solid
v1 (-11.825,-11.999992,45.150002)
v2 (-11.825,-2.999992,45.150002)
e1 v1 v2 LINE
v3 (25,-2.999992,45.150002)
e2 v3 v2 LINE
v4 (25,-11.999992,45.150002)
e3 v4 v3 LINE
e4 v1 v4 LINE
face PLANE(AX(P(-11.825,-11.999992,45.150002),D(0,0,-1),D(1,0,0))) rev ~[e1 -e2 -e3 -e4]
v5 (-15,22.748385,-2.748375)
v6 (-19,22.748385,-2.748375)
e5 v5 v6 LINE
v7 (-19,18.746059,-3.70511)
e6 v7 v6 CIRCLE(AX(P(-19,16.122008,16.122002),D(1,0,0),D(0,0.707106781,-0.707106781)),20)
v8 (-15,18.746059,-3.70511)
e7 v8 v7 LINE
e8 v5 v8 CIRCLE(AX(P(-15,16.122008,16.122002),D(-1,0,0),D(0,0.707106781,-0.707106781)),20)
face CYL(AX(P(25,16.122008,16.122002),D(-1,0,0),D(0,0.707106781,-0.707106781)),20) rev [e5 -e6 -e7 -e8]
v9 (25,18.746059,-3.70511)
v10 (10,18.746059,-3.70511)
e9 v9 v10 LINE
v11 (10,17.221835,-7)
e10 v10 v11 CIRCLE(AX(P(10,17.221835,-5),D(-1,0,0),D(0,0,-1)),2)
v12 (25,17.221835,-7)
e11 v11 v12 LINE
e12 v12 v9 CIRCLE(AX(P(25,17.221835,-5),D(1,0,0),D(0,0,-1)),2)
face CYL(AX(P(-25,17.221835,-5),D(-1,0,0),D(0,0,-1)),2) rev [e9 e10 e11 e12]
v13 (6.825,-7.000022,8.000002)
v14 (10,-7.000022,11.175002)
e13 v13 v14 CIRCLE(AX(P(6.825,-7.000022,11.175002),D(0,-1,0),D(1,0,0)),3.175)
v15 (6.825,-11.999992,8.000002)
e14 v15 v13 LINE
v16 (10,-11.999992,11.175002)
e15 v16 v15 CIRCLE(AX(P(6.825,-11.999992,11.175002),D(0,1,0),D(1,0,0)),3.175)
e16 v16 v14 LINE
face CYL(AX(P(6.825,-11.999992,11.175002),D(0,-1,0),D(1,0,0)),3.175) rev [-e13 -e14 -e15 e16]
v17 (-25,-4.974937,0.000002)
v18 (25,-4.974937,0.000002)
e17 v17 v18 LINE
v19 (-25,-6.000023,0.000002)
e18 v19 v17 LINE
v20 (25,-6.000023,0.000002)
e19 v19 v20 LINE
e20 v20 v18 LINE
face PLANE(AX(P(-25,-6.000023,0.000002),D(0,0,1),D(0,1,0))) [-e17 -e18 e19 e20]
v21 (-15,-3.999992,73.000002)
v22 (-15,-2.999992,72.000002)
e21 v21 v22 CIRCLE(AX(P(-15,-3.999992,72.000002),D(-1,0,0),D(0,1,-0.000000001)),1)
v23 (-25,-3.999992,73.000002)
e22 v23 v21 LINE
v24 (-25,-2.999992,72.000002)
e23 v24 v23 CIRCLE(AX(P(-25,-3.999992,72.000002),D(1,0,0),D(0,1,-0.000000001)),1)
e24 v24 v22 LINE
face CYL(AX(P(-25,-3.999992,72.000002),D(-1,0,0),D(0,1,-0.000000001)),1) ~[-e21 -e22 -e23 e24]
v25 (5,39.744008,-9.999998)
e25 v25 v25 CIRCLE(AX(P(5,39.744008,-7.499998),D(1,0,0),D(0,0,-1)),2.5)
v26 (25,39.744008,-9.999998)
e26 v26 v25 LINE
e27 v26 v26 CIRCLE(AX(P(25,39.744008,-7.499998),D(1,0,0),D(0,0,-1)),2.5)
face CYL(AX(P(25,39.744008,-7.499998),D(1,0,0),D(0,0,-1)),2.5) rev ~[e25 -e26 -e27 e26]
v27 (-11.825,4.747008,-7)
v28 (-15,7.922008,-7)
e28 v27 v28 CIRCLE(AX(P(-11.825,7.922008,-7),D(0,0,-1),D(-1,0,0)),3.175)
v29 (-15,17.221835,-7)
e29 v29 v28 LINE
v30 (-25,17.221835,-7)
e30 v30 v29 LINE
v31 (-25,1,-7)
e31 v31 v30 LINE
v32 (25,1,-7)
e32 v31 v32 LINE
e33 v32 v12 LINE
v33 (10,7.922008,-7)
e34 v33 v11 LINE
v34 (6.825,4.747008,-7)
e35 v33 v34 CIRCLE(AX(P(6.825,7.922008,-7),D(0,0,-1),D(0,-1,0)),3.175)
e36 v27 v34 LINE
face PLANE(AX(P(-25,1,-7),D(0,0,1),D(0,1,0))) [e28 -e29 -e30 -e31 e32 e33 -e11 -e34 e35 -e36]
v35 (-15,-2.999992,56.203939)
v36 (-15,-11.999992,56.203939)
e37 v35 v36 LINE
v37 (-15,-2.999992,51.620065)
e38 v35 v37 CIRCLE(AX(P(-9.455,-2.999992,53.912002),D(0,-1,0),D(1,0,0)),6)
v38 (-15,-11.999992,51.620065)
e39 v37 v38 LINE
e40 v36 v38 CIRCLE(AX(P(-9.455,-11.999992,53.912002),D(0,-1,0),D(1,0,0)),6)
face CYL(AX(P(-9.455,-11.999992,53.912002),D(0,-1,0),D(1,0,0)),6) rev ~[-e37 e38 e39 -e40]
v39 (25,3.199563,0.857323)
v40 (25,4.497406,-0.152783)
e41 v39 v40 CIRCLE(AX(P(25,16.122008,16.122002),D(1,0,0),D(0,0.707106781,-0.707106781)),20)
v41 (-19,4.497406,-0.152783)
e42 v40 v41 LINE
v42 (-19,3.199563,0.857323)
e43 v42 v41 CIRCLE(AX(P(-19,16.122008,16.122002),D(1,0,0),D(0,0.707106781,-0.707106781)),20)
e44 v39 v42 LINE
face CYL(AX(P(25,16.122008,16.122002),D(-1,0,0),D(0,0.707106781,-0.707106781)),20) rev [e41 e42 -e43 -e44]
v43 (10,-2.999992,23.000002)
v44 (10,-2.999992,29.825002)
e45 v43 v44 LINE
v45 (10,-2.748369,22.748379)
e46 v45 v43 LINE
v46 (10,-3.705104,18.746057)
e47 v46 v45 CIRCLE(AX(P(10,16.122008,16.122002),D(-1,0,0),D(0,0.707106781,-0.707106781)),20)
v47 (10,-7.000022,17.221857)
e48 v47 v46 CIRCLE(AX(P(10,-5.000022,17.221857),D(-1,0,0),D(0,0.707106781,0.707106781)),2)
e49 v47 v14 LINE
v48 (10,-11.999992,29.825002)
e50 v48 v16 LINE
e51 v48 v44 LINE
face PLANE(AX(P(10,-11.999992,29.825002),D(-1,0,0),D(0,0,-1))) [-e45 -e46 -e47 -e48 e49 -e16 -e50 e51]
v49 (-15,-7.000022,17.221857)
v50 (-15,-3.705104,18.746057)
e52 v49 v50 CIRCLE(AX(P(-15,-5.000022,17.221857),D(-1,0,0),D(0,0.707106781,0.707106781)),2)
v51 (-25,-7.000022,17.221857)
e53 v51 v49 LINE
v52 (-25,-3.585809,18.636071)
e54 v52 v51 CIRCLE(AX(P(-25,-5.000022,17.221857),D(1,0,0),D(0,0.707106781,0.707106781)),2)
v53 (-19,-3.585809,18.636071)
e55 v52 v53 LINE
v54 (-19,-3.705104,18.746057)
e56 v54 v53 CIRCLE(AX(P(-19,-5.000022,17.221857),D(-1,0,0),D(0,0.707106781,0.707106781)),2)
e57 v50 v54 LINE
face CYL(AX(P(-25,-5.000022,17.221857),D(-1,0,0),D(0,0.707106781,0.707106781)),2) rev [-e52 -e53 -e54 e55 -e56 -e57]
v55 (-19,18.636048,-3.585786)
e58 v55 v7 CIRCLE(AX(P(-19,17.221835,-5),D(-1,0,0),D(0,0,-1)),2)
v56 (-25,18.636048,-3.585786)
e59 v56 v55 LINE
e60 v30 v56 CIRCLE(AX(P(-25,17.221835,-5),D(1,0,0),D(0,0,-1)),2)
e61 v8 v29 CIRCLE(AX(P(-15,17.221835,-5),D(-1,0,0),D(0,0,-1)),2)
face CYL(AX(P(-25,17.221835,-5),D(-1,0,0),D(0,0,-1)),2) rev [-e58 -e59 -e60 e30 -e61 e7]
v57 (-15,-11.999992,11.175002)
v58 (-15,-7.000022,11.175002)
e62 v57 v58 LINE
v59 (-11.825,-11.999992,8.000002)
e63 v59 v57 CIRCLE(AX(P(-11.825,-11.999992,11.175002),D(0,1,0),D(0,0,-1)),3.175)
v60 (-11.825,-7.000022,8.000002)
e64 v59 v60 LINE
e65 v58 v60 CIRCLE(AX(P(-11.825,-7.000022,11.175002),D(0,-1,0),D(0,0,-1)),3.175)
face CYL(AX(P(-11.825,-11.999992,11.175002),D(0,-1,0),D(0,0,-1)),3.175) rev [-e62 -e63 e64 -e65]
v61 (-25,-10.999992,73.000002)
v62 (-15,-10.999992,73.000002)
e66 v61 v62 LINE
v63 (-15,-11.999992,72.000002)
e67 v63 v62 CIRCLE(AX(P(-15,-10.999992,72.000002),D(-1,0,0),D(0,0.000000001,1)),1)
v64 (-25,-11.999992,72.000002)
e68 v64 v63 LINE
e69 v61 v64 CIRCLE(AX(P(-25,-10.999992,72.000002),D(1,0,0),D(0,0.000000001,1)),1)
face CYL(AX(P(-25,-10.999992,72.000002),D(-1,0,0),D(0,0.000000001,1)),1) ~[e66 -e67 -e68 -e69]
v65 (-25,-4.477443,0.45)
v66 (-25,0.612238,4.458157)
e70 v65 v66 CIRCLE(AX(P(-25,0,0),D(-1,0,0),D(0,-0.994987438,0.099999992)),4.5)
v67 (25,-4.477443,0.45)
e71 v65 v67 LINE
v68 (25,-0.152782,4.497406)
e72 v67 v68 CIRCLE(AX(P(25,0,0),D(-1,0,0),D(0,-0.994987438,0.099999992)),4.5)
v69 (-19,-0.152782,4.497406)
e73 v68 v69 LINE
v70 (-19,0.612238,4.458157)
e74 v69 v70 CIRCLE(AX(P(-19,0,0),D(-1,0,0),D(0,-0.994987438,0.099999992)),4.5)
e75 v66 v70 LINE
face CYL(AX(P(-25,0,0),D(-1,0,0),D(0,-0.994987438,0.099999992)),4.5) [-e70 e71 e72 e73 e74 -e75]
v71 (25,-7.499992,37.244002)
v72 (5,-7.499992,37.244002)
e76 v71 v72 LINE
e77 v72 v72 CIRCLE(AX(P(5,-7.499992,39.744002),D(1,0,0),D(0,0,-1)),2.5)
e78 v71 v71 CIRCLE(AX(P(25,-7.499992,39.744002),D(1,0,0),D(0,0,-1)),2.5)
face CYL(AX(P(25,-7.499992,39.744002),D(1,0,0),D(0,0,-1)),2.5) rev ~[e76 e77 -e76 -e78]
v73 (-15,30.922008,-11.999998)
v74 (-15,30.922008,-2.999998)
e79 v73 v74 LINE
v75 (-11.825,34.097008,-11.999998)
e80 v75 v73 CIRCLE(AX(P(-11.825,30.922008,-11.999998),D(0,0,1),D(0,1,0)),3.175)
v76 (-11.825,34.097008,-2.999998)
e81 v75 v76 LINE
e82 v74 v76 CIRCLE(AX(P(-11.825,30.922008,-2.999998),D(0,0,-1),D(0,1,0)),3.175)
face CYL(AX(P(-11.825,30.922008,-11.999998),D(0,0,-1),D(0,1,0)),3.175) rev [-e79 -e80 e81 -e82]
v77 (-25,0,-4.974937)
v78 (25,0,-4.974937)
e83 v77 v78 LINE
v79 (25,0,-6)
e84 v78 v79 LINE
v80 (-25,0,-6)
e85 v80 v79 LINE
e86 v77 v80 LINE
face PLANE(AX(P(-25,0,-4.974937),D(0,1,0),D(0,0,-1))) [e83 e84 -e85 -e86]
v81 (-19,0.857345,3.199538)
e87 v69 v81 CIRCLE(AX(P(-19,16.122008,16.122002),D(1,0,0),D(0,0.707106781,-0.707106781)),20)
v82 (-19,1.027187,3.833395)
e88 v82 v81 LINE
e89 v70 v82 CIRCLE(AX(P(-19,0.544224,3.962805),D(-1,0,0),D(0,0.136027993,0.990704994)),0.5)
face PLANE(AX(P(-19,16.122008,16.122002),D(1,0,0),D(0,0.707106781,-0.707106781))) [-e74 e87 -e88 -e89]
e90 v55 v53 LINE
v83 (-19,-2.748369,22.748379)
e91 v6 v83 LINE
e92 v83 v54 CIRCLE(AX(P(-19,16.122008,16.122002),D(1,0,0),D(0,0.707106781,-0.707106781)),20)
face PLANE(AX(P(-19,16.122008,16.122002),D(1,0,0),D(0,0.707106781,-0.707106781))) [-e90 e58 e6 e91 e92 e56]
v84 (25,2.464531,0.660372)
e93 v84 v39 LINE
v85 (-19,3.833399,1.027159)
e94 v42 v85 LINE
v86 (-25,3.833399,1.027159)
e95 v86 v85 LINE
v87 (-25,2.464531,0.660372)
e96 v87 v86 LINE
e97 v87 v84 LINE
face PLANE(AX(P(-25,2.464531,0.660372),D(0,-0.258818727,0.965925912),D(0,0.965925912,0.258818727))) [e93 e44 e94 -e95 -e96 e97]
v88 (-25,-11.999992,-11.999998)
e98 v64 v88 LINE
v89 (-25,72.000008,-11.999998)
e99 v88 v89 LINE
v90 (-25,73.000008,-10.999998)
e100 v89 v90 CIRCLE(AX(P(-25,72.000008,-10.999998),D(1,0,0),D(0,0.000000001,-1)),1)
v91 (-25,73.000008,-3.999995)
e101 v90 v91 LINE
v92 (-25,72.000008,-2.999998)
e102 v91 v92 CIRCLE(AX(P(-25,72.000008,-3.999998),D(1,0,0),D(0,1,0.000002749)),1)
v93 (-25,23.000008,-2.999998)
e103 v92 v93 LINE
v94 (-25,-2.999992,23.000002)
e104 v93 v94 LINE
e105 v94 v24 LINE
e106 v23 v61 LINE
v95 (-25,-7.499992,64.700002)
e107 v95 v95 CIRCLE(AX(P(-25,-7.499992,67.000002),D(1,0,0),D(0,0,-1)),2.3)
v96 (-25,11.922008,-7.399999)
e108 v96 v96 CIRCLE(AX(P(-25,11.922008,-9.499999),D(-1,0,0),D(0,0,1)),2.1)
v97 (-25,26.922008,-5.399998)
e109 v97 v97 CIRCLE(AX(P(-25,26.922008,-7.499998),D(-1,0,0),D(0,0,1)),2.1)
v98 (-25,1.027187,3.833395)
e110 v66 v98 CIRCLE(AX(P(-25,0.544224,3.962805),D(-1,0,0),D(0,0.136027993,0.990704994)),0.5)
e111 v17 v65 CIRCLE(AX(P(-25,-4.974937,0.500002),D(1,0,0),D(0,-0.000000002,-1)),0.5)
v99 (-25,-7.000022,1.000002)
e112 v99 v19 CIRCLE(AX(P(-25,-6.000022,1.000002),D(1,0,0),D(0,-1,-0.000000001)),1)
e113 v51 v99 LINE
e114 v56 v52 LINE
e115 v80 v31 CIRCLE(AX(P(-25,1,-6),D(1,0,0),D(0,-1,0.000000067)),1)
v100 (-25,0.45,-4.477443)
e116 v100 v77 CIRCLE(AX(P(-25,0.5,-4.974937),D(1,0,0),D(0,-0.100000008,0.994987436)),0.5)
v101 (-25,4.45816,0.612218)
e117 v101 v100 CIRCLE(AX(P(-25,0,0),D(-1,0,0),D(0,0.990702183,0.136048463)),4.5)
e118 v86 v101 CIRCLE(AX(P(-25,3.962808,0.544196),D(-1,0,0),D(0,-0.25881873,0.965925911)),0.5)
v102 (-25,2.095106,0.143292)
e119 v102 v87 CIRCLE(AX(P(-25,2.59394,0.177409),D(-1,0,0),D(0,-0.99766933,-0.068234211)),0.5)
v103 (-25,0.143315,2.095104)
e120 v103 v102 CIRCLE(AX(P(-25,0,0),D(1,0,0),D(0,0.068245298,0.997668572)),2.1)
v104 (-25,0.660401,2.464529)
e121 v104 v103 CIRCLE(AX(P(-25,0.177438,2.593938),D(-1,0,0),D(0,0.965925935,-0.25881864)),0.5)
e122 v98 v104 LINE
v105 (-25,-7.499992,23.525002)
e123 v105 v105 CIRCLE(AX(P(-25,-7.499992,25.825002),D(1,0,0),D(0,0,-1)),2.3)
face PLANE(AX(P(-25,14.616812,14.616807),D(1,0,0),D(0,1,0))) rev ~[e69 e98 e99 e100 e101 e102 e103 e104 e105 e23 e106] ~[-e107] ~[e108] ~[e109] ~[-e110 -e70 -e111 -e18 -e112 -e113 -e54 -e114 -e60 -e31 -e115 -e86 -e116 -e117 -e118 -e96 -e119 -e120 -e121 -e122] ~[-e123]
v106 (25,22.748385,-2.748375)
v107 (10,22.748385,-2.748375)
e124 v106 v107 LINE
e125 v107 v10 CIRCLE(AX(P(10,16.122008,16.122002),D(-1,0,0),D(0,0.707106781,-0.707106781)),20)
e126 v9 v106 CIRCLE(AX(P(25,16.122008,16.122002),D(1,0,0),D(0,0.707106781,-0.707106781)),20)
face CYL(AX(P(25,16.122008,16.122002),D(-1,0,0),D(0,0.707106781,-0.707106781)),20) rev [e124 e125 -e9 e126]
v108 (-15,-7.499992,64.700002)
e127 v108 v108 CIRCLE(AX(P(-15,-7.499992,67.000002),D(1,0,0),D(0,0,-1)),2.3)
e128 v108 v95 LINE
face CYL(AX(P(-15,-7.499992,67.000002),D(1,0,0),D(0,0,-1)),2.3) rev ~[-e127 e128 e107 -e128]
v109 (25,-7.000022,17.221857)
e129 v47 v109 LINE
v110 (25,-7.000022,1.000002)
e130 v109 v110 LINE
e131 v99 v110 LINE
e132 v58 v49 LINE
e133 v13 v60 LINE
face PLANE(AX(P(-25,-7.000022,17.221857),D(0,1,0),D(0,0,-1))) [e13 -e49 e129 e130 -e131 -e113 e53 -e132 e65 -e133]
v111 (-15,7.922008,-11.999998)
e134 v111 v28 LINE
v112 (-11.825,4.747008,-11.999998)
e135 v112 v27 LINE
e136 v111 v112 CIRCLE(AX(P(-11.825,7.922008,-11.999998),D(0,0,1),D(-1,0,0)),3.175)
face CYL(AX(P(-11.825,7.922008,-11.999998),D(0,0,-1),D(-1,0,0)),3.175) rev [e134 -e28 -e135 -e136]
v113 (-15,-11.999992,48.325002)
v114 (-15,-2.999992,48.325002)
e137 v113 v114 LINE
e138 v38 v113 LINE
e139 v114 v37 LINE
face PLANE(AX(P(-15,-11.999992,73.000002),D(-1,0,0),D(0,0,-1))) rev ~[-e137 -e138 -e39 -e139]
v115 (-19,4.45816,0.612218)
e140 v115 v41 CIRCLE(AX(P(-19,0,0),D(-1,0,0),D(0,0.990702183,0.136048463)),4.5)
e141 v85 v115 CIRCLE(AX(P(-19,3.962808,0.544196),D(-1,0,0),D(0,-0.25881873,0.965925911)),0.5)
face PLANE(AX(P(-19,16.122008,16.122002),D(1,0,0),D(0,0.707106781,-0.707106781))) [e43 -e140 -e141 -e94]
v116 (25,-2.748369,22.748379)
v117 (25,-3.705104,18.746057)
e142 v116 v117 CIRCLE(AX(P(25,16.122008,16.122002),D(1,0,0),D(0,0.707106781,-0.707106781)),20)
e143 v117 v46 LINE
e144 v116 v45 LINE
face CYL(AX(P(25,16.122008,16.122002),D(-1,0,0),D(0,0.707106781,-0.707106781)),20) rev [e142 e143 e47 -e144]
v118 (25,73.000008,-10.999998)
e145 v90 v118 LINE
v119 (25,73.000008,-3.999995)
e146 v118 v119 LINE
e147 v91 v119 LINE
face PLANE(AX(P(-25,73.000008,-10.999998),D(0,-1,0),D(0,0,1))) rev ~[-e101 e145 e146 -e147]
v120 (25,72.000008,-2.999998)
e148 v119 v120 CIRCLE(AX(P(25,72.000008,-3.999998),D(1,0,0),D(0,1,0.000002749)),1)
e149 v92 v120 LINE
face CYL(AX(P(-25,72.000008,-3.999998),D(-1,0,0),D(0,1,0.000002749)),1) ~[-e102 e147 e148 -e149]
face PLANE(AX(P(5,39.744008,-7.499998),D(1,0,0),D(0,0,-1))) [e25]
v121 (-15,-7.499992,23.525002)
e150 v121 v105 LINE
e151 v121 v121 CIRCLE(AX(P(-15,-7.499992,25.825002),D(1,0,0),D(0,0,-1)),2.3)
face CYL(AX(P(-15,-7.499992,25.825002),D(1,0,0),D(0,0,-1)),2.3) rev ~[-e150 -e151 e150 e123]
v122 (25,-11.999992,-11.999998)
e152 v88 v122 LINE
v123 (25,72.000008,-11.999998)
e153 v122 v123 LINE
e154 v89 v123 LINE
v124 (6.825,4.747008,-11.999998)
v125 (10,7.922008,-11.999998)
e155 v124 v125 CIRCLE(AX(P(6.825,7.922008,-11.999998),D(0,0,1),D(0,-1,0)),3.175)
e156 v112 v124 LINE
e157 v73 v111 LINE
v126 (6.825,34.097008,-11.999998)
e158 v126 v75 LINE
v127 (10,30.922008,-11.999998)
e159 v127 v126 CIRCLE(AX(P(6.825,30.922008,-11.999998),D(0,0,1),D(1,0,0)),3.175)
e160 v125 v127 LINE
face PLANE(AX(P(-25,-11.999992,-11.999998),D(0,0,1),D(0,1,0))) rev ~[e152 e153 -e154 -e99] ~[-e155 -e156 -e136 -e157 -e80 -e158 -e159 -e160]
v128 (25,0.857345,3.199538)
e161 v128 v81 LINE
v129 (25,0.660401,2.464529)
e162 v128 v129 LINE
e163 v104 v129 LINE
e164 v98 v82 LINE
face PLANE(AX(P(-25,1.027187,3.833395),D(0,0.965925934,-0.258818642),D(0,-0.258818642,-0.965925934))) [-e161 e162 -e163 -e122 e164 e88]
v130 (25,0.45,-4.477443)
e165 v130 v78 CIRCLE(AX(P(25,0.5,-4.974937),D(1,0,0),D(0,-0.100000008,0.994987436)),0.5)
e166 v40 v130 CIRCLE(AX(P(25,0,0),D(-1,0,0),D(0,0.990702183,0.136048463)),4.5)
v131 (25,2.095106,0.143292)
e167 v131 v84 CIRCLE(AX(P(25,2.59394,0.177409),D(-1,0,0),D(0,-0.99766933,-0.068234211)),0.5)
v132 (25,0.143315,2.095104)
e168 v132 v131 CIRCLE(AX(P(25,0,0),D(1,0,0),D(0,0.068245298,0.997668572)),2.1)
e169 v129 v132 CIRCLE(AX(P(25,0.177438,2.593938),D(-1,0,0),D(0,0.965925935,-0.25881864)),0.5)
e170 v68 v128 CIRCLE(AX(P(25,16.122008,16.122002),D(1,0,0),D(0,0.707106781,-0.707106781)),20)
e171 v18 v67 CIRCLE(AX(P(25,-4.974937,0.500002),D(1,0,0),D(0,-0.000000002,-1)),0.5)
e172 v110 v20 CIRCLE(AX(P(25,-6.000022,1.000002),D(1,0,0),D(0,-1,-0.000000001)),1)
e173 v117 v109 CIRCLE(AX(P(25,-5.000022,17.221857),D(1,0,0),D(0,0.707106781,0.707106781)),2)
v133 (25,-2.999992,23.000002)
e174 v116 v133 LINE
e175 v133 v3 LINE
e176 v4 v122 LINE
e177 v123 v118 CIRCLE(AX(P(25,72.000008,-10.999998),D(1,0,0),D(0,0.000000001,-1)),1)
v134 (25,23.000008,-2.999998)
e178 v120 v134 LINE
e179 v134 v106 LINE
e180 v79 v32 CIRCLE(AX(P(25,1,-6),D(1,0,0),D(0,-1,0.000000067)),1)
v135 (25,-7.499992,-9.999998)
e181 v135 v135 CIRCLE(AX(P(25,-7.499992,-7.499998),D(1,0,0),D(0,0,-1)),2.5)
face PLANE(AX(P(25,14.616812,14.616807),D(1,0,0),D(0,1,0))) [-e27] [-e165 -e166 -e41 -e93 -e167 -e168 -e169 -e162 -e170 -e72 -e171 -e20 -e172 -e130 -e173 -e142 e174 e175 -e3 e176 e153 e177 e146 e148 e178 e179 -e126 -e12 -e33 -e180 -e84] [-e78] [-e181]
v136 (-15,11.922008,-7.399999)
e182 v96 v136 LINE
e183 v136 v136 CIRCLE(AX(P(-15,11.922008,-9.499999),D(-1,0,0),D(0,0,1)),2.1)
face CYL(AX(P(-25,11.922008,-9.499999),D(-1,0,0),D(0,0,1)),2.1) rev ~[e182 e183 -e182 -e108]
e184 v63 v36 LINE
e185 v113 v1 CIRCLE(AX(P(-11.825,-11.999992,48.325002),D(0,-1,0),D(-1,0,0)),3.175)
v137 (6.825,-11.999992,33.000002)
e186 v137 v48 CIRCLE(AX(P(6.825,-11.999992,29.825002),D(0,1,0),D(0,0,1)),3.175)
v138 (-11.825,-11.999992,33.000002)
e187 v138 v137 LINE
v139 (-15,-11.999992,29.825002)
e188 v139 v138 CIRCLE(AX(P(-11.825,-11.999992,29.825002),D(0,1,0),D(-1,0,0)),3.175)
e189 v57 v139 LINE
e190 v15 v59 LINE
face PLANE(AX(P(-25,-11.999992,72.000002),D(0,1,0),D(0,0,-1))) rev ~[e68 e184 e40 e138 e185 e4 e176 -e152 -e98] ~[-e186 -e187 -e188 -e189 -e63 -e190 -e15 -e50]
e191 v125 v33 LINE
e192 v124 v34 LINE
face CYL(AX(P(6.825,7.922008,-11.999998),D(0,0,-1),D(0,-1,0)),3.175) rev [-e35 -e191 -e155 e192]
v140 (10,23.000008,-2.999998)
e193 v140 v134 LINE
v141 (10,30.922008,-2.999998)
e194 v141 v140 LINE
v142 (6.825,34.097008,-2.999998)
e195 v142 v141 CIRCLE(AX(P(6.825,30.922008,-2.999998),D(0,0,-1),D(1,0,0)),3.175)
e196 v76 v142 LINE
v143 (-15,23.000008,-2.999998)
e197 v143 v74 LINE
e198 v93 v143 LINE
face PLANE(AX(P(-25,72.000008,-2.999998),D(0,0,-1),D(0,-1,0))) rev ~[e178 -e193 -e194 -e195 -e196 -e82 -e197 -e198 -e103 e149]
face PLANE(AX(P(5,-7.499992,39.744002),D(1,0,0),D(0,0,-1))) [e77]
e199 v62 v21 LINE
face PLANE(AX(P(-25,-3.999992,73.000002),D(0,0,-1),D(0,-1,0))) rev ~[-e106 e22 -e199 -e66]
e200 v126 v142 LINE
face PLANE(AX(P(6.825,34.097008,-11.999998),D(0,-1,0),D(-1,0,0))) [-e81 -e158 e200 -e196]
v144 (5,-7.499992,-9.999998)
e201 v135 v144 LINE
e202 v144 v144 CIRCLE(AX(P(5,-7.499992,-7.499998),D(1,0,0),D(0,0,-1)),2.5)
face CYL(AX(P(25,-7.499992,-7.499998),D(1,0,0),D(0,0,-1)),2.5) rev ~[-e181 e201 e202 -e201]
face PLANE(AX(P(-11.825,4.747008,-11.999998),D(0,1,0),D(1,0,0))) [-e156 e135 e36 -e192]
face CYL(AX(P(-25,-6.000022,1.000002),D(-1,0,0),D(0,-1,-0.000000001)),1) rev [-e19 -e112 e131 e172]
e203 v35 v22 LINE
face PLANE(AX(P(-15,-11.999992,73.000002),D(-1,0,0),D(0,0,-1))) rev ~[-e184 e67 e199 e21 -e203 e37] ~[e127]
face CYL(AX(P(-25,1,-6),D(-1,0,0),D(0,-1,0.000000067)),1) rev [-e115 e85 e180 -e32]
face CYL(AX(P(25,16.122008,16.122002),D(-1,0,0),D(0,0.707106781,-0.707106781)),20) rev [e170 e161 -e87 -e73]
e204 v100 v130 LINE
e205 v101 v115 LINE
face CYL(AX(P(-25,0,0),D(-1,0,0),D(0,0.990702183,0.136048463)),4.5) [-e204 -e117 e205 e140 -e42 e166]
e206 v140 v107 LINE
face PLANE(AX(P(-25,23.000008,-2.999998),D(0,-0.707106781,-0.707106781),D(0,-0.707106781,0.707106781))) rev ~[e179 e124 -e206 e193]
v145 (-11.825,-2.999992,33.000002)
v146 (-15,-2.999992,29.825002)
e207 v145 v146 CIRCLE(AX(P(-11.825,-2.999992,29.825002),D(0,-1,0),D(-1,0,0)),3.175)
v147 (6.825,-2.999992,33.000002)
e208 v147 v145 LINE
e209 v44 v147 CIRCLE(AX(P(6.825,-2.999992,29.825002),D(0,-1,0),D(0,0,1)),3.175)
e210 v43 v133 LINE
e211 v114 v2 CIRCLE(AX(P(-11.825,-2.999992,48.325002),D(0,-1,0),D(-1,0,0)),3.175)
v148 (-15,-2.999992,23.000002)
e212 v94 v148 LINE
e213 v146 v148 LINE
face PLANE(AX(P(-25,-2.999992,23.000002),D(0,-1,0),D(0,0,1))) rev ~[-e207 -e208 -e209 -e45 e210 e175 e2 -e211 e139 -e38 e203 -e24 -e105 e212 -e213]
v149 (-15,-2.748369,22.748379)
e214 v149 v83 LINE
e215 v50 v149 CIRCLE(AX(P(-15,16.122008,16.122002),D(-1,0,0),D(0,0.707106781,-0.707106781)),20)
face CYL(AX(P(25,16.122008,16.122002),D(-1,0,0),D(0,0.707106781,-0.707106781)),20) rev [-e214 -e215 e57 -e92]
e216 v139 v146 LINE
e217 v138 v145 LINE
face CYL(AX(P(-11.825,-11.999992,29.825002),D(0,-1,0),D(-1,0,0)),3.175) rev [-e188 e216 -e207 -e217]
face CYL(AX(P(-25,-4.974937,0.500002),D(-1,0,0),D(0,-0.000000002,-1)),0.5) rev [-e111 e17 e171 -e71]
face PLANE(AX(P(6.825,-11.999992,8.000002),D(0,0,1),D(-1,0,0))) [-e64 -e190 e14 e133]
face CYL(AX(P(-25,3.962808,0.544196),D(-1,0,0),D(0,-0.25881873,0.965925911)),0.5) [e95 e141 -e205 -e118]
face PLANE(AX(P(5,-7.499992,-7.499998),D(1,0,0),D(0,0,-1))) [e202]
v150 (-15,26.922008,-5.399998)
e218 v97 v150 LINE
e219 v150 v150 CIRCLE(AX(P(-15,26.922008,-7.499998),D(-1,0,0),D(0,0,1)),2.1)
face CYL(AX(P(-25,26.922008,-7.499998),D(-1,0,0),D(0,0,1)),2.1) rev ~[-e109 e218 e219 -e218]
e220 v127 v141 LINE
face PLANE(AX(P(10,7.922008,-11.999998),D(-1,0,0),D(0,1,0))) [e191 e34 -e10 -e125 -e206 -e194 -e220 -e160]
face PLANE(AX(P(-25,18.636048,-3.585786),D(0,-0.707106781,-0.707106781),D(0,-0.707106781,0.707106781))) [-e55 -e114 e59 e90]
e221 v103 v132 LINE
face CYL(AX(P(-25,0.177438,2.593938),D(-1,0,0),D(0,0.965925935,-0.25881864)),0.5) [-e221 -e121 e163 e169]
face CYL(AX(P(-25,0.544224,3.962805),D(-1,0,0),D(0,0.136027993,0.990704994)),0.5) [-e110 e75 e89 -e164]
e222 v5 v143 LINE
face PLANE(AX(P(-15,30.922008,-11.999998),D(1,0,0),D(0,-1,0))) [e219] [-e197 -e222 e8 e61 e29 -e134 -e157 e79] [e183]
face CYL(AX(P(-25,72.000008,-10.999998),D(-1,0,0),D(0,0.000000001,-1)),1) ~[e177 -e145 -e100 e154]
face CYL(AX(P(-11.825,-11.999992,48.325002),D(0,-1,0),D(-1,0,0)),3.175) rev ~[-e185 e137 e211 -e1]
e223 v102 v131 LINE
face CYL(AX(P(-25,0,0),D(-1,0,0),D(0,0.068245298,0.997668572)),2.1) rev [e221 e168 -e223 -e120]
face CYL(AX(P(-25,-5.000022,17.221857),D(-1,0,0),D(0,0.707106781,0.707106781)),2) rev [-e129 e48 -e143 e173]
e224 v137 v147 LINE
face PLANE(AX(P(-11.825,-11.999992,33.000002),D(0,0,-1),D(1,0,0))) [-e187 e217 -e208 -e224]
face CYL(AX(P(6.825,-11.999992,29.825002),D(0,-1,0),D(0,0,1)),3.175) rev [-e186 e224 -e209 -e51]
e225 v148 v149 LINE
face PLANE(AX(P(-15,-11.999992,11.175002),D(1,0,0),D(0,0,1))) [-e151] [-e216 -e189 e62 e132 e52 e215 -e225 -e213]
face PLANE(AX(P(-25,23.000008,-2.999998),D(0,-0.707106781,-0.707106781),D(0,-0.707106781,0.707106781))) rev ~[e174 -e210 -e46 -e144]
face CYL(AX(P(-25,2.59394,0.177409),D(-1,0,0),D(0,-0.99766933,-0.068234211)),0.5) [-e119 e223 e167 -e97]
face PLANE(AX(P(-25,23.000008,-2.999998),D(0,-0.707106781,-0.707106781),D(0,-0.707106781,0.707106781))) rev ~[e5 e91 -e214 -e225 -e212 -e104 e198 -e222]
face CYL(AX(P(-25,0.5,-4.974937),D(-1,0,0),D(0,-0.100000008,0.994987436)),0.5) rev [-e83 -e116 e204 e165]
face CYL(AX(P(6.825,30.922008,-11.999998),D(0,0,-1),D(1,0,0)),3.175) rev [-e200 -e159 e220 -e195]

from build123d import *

# Parameters (mm, degrees)
STRUCTURAL_MEMBER1_DEPTH = 50
SKETCH16_R               = 2.5
CUT_EXTRUDE2_DEPTH       = 20
CUT_EXTRUDE7_REACH       = 116.8
CUT_EXTRUDE8_REACH       = 116.708
SKETCH23_R               = 2.1
CUT_EXTRUDE9_REACH       = 116.8
CUT_EXTRUDE10_REACH      = 112.716
SKETCH25_R               = 2.3
SKETCH26_R               = 6
CUT_EXTRUDE11_DEPTH      = 115.799827021


with BuildPart() as part:
    # Sketch14 → Structural Member1 (new body)
    with BuildSketch(Plane.YZ.offset(-25)):
        with BuildLine():
            Line((-11.999992417, -11.999998055), (72.000007583, -11.999998055))
            ThreePointArc((72.000007583, -11.999998055), (72.707114364, -11.707104836), (73.000007583, -10.999998055))
            Line((73.000007583, -10.999998055), (73.000007583, -3.999995305))
            ThreePointArc((73.000007583, -3.999995305), (72.707113392, -3.292890301), (72.000007583, -2.999998055))
            Line((72.000007583, -2.999998055), (23.000007583, -2.999998055))
            Line((23.000007583, -2.999998055), (-2.999992417, 23.000001945))
            Line((-2.999992417, 23.000001945), (-2.999992417, 72.000001945))
            ThreePointArc((-2.999992417, 72.000001945), (-3.292885636, 72.707108727), (-3.999992417, 73.000001945))
            Line((-3.999992417, 73.000001945), (-10.999992417, 73.000001945))
            ThreePointArc((-10.999992417, 73.000001945), (-11.707099198, 72.707108727), (-11.999992417, 72.000001945))
            Line((-11.999992417, 72.000001945), (-11.999992417, -11.999998055))
        make_face()
        with BuildLine():
            Line((0.999999969, -6.999999689), (17.221834624, -6.999999689))
            ThreePointArc((17.221834624, -6.999999689), (19.069593689, -5.765366553), (18.636048187, -3.585786126))
            Line((18.636048187, -3.585786126), (-3.585808896, 18.636070956))
            ThreePointArc((-3.585808896, 18.636070956), (-5.765389323, 19.069616459), (-7.000022459, 17.221857394))
            Line((-7.000022459, 17.221857394), (-7.000022459, 1.000002257))
            ThreePointArc((-7.000022459, 1.000002257), (-6.707129334, 0.29289557), (-6.000022726, 2.257e-06))
            Line((-6.000022726, 2.257e-06), (-4.974936959, 2.257e-06))
            ThreePointArc((-4.974936959, 2.257e-06), (-4.639527617, 0.129191559), (-4.477443471, 0.449999963))
            ThreePointArc((-4.477443471, 0.449999963), (-2.784112909, 3.535352218), (0.612237786, 4.458157119))
            ThreePointArc((0.612237786, 4.458157119), (0.960727975, 4.239434815), (1.027186757, 3.833395301))
            Line((1.027186757, 3.833395301), (0.660400741, 2.464528966))
            ThreePointArc((0.660400741, 2.464528966), (0.468097556, 2.187100615), (0.143315125, 2.095104001))
            ThreePointArc((0.143315125, 2.095104001), (-1.484932492, -1.484915989), (2.095105594, 0.14329184))
            ThreePointArc((2.095105594, 0.14329184), (2.18710419, 0.46807097), (2.464530895, 0.6603719))
            Line((2.464530895, 0.6603719), (3.83339913, 1.027158555))
            ThreePointArc((3.83339913, 1.027158555), (4.2394351, 0.960702167), (4.458159824, 0.612218085))
            ThreePointArc((4.458159824, 0.612218085), (3.535346067, -2.784120721), (0.449999963, -4.477443471))
            ThreePointArc((0.449999963, -4.477443471), (0.129190042, -4.639526994), (-3.1e-08, -4.974937189))
            Line((-3.1e-08, -4.974937189), (-3.1e-08, -5.999999623))
            ThreePointArc((-3.1e-08, -5.999999623), (0.292893164, -6.707106447), (0.999999969, -6.999999689))
        make_face(mode=Mode.SUBTRACT)
    extrude(amount=STRUCTURAL_MEMBER1_DEPTH)

    # Sketch16 → Cut-Extrude2 (cut)
    with BuildSketch(Plane(origin=(25, 0, 0), x_dir=(0, 0, -1), z_dir=(1, 0, 0))):
        with Locations((7.499998055, -7.499992417)):
            Circle(SKETCH16_R)
        with Locations((-39.744001945, -7.499992417)):
            Circle(SKETCH16_R)
        with Locations((7.499998055, 39.744007583)):
            Circle(SKETCH16_R)
    extrude(amount=-CUT_EXTRUDE2_DEPTH, mode=Mode.SUBTRACT)

    # Sketch18 → Cut-Revolve1 (revolve, cut)
    with BuildSketch(Plane(origin=(0, 2.977207172, 29.266802357), x_dir=(-1, 0, 0), z_dir=(0, 0.7071067811865477, 0.7071067811865475))):
        Polygon((-25, -38.589555017), (19, -38.589555017), (19, -21.764555017), (25, -21.764555017), (25, -18.589555017), (-25, -18.589555017), align=None)
    revolve(axis=Axis((25, 16.122007583, 16.122001945), (1, 0, 0)), mode=Mode.SUBTRACT)

    # Sketch22 → Cut-Extrude7 (cut, up to next)
    with BuildSketch(Plane(origin=(0, 0, -11.999998055), x_dir=(-1, 0, 0), z_dir=(0, 0, -1)), mode=Mode.PRIVATE) as cut_extrude7_sk1:
        with BuildLine():
            Line((11.825, 4.747007583), (-6.825, 4.747007583))
            ThreePointArc((-6.825, 4.747007583), (-9.07006403, 5.676943553), (-10, 7.922007583))
            Line((-10, 7.922007583), (-10, 30.922007583))
            ThreePointArc((-10, 30.922007583), (-9.07006403, 33.167071613), (-6.825, 34.097007583))
            Line((-6.825, 34.097007583), (11.825, 34.097007583))
            ThreePointArc((11.825, 34.097007583), (14.07006403, 33.167071613), (15, 30.922007583))
            Line((15, 30.922007583), (15, 7.922007583))
            ThreePointArc((15, 7.922007583), (14.07006403, 5.676943553), (11.825, 4.747007583))
        make_face()
    cut_extrude7_tool1 = extrude(cut_extrude7_sk1.sketch, amount=-CUT_EXTRUDE7_REACH, mode=Mode.PRIVATE) & part.part
    add(cut_extrude7_tool1.solids().sort_by_distance((-2.5, 19.422008, -11.999998))[0], mode=Mode.SUBTRACT)

    # Sketch23 → Cut-Extrude8 (cut, up to next)
    with BuildSketch(Plane.ZY.offset(25), mode=Mode.PRIVATE) as cut_extrude8_sk1:
        with Locations((-9.499998872, 11.922007583)):
            Circle(SKETCH23_R)
    cut_extrude8_tool1 = extrude(cut_extrude8_sk1.sketch, amount=-CUT_EXTRUDE8_REACH, mode=Mode.PRIVATE) & part.part
    # Sketch23 → Cut-Extrude8 (cut, up to next)
    with BuildSketch(Plane.ZY.offset(25), mode=Mode.PRIVATE) as cut_extrude8_sk2:
        with Locations((-7.499998055, 26.922007583)):
            Circle(SKETCH23_R)
    cut_extrude8_tool2 = extrude(cut_extrude8_sk2.sketch, amount=-CUT_EXTRUDE8_REACH, mode=Mode.PRIVATE) & part.part
    add(cut_extrude8_tool1.solids().sort_by_distance((-25, 11.922008, -9.499999))[0], mode=Mode.SUBTRACT)
    add(cut_extrude8_tool2.solids().sort_by_distance((-25, 26.922008, -7.499998))[0], mode=Mode.SUBTRACT)

    # Sketch24 → Cut-Extrude9 (cut, up to next)
    with BuildSketch(Plane.XZ.offset(11.999992417), mode=Mode.PRIVATE) as cut_extrude9_sk1:
        with BuildLine():
            Line((6.825, 8.000001945), (-11.825, 8.000001945))
            ThreePointArc((-11.825, 8.000001945), (-14.07006403, 8.929937915), (-15, 11.175001945))
            Line((-15, 11.175001945), (-15, 29.825001945))
            ThreePointArc((-15, 29.825001945), (-14.07006403, 32.070065976), (-11.825, 33.000001945))
            Line((-11.825, 33.000001945), (6.825, 33.000001945))
            ThreePointArc((6.825, 33.000001945), (9.07006403, 32.070065976), (10, 29.825001945))
            Line((10, 29.825001945), (10, 11.175001945))
            ThreePointArc((10, 11.175001945), (9.07006403, 8.929937915), (6.825, 8.000001945))
        make_face()
    cut_extrude9_tool1 = extrude(cut_extrude9_sk1.sketch, amount=-CUT_EXTRUDE9_REACH, mode=Mode.PRIVATE) & part.part
    # Sketch24 → Cut-Extrude9 (cut, up to next)
    with BuildSketch(Plane.XZ.offset(11.999992417), mode=Mode.PRIVATE) as cut_extrude9_sk2:
        with BuildLine():
            Line((25, 73.000001945), (-15, 73.000001945))
            Line((-15, 73.000001945), (-15, 48.325001945))
            ThreePointArc((-15, 48.325001945), (-14.07006403, 46.079937915), (-11.825, 45.150001945))
            Line((-11.825, 45.150001945), (25, 45.150001945))
            Line((25, 45.150001945), (25, 73.000001945))
        make_face()
    cut_extrude9_tool2 = extrude(cut_extrude9_sk2.sketch, amount=-CUT_EXTRUDE9_REACH, mode=Mode.PRIVATE) & part.part
    add(cut_extrude9_tool1.solids().sort_by_distance((-2.5, -11.999992, 20.500002))[0], mode=Mode.SUBTRACT)
    add(cut_extrude9_tool2.solids().sort_by_distance((5.037534, -11.999992, 59.100716))[0], mode=Mode.SUBTRACT)

    # Sketch25 → Cut-Extrude10 (cut, up to next)
    with BuildSketch(Plane(origin=(-15, 0, 0), x_dir=(0, 0, -1), z_dir=(1, 0, 0)), mode=Mode.PRIVATE) as cut_extrude10_sk1:
        with Locations((-67.000001945, -7.499992417)):
            Circle(SKETCH25_R)
    cut_extrude10_tool1 = extrude(cut_extrude10_sk1.sketch, amount=-CUT_EXTRUDE10_REACH, mode=Mode.PRIVATE) & part.part
    # Sketch25 → Cut-Extrude10 (cut, up to next)
    with BuildSketch(Plane(origin=(-15, 0, 0), x_dir=(0, 0, -1), z_dir=(1, 0, 0)), mode=Mode.PRIVATE) as cut_extrude10_sk2:
        with Locations((-25.825001945, -7.499992417)):
            Circle(SKETCH25_R)
    cut_extrude10_tool2 = extrude(cut_extrude10_sk2.sketch, amount=-CUT_EXTRUDE10_REACH, mode=Mode.PRIVATE) & part.part
    add(cut_extrude10_tool1.solids().sort_by_distance((-15, -7.499992, 67.000002))[0], mode=Mode.SUBTRACT)
    add(cut_extrude10_tool2.solids().sort_by_distance((-15, -7.499992, 25.825002))[0], mode=Mode.SUBTRACT)

    # Sketch26 → Cut-Extrude11 (cut, through all)
    with BuildSketch(Plane.XZ.offset(11.999992417)):
        with Locations((-9.455, 53.912001945)):
            Circle(SKETCH26_R)
    extrude(amount=-CUT_EXTRUDE11_DEPTH, mode=Mode.SUBTRACT)


solid = part.part
